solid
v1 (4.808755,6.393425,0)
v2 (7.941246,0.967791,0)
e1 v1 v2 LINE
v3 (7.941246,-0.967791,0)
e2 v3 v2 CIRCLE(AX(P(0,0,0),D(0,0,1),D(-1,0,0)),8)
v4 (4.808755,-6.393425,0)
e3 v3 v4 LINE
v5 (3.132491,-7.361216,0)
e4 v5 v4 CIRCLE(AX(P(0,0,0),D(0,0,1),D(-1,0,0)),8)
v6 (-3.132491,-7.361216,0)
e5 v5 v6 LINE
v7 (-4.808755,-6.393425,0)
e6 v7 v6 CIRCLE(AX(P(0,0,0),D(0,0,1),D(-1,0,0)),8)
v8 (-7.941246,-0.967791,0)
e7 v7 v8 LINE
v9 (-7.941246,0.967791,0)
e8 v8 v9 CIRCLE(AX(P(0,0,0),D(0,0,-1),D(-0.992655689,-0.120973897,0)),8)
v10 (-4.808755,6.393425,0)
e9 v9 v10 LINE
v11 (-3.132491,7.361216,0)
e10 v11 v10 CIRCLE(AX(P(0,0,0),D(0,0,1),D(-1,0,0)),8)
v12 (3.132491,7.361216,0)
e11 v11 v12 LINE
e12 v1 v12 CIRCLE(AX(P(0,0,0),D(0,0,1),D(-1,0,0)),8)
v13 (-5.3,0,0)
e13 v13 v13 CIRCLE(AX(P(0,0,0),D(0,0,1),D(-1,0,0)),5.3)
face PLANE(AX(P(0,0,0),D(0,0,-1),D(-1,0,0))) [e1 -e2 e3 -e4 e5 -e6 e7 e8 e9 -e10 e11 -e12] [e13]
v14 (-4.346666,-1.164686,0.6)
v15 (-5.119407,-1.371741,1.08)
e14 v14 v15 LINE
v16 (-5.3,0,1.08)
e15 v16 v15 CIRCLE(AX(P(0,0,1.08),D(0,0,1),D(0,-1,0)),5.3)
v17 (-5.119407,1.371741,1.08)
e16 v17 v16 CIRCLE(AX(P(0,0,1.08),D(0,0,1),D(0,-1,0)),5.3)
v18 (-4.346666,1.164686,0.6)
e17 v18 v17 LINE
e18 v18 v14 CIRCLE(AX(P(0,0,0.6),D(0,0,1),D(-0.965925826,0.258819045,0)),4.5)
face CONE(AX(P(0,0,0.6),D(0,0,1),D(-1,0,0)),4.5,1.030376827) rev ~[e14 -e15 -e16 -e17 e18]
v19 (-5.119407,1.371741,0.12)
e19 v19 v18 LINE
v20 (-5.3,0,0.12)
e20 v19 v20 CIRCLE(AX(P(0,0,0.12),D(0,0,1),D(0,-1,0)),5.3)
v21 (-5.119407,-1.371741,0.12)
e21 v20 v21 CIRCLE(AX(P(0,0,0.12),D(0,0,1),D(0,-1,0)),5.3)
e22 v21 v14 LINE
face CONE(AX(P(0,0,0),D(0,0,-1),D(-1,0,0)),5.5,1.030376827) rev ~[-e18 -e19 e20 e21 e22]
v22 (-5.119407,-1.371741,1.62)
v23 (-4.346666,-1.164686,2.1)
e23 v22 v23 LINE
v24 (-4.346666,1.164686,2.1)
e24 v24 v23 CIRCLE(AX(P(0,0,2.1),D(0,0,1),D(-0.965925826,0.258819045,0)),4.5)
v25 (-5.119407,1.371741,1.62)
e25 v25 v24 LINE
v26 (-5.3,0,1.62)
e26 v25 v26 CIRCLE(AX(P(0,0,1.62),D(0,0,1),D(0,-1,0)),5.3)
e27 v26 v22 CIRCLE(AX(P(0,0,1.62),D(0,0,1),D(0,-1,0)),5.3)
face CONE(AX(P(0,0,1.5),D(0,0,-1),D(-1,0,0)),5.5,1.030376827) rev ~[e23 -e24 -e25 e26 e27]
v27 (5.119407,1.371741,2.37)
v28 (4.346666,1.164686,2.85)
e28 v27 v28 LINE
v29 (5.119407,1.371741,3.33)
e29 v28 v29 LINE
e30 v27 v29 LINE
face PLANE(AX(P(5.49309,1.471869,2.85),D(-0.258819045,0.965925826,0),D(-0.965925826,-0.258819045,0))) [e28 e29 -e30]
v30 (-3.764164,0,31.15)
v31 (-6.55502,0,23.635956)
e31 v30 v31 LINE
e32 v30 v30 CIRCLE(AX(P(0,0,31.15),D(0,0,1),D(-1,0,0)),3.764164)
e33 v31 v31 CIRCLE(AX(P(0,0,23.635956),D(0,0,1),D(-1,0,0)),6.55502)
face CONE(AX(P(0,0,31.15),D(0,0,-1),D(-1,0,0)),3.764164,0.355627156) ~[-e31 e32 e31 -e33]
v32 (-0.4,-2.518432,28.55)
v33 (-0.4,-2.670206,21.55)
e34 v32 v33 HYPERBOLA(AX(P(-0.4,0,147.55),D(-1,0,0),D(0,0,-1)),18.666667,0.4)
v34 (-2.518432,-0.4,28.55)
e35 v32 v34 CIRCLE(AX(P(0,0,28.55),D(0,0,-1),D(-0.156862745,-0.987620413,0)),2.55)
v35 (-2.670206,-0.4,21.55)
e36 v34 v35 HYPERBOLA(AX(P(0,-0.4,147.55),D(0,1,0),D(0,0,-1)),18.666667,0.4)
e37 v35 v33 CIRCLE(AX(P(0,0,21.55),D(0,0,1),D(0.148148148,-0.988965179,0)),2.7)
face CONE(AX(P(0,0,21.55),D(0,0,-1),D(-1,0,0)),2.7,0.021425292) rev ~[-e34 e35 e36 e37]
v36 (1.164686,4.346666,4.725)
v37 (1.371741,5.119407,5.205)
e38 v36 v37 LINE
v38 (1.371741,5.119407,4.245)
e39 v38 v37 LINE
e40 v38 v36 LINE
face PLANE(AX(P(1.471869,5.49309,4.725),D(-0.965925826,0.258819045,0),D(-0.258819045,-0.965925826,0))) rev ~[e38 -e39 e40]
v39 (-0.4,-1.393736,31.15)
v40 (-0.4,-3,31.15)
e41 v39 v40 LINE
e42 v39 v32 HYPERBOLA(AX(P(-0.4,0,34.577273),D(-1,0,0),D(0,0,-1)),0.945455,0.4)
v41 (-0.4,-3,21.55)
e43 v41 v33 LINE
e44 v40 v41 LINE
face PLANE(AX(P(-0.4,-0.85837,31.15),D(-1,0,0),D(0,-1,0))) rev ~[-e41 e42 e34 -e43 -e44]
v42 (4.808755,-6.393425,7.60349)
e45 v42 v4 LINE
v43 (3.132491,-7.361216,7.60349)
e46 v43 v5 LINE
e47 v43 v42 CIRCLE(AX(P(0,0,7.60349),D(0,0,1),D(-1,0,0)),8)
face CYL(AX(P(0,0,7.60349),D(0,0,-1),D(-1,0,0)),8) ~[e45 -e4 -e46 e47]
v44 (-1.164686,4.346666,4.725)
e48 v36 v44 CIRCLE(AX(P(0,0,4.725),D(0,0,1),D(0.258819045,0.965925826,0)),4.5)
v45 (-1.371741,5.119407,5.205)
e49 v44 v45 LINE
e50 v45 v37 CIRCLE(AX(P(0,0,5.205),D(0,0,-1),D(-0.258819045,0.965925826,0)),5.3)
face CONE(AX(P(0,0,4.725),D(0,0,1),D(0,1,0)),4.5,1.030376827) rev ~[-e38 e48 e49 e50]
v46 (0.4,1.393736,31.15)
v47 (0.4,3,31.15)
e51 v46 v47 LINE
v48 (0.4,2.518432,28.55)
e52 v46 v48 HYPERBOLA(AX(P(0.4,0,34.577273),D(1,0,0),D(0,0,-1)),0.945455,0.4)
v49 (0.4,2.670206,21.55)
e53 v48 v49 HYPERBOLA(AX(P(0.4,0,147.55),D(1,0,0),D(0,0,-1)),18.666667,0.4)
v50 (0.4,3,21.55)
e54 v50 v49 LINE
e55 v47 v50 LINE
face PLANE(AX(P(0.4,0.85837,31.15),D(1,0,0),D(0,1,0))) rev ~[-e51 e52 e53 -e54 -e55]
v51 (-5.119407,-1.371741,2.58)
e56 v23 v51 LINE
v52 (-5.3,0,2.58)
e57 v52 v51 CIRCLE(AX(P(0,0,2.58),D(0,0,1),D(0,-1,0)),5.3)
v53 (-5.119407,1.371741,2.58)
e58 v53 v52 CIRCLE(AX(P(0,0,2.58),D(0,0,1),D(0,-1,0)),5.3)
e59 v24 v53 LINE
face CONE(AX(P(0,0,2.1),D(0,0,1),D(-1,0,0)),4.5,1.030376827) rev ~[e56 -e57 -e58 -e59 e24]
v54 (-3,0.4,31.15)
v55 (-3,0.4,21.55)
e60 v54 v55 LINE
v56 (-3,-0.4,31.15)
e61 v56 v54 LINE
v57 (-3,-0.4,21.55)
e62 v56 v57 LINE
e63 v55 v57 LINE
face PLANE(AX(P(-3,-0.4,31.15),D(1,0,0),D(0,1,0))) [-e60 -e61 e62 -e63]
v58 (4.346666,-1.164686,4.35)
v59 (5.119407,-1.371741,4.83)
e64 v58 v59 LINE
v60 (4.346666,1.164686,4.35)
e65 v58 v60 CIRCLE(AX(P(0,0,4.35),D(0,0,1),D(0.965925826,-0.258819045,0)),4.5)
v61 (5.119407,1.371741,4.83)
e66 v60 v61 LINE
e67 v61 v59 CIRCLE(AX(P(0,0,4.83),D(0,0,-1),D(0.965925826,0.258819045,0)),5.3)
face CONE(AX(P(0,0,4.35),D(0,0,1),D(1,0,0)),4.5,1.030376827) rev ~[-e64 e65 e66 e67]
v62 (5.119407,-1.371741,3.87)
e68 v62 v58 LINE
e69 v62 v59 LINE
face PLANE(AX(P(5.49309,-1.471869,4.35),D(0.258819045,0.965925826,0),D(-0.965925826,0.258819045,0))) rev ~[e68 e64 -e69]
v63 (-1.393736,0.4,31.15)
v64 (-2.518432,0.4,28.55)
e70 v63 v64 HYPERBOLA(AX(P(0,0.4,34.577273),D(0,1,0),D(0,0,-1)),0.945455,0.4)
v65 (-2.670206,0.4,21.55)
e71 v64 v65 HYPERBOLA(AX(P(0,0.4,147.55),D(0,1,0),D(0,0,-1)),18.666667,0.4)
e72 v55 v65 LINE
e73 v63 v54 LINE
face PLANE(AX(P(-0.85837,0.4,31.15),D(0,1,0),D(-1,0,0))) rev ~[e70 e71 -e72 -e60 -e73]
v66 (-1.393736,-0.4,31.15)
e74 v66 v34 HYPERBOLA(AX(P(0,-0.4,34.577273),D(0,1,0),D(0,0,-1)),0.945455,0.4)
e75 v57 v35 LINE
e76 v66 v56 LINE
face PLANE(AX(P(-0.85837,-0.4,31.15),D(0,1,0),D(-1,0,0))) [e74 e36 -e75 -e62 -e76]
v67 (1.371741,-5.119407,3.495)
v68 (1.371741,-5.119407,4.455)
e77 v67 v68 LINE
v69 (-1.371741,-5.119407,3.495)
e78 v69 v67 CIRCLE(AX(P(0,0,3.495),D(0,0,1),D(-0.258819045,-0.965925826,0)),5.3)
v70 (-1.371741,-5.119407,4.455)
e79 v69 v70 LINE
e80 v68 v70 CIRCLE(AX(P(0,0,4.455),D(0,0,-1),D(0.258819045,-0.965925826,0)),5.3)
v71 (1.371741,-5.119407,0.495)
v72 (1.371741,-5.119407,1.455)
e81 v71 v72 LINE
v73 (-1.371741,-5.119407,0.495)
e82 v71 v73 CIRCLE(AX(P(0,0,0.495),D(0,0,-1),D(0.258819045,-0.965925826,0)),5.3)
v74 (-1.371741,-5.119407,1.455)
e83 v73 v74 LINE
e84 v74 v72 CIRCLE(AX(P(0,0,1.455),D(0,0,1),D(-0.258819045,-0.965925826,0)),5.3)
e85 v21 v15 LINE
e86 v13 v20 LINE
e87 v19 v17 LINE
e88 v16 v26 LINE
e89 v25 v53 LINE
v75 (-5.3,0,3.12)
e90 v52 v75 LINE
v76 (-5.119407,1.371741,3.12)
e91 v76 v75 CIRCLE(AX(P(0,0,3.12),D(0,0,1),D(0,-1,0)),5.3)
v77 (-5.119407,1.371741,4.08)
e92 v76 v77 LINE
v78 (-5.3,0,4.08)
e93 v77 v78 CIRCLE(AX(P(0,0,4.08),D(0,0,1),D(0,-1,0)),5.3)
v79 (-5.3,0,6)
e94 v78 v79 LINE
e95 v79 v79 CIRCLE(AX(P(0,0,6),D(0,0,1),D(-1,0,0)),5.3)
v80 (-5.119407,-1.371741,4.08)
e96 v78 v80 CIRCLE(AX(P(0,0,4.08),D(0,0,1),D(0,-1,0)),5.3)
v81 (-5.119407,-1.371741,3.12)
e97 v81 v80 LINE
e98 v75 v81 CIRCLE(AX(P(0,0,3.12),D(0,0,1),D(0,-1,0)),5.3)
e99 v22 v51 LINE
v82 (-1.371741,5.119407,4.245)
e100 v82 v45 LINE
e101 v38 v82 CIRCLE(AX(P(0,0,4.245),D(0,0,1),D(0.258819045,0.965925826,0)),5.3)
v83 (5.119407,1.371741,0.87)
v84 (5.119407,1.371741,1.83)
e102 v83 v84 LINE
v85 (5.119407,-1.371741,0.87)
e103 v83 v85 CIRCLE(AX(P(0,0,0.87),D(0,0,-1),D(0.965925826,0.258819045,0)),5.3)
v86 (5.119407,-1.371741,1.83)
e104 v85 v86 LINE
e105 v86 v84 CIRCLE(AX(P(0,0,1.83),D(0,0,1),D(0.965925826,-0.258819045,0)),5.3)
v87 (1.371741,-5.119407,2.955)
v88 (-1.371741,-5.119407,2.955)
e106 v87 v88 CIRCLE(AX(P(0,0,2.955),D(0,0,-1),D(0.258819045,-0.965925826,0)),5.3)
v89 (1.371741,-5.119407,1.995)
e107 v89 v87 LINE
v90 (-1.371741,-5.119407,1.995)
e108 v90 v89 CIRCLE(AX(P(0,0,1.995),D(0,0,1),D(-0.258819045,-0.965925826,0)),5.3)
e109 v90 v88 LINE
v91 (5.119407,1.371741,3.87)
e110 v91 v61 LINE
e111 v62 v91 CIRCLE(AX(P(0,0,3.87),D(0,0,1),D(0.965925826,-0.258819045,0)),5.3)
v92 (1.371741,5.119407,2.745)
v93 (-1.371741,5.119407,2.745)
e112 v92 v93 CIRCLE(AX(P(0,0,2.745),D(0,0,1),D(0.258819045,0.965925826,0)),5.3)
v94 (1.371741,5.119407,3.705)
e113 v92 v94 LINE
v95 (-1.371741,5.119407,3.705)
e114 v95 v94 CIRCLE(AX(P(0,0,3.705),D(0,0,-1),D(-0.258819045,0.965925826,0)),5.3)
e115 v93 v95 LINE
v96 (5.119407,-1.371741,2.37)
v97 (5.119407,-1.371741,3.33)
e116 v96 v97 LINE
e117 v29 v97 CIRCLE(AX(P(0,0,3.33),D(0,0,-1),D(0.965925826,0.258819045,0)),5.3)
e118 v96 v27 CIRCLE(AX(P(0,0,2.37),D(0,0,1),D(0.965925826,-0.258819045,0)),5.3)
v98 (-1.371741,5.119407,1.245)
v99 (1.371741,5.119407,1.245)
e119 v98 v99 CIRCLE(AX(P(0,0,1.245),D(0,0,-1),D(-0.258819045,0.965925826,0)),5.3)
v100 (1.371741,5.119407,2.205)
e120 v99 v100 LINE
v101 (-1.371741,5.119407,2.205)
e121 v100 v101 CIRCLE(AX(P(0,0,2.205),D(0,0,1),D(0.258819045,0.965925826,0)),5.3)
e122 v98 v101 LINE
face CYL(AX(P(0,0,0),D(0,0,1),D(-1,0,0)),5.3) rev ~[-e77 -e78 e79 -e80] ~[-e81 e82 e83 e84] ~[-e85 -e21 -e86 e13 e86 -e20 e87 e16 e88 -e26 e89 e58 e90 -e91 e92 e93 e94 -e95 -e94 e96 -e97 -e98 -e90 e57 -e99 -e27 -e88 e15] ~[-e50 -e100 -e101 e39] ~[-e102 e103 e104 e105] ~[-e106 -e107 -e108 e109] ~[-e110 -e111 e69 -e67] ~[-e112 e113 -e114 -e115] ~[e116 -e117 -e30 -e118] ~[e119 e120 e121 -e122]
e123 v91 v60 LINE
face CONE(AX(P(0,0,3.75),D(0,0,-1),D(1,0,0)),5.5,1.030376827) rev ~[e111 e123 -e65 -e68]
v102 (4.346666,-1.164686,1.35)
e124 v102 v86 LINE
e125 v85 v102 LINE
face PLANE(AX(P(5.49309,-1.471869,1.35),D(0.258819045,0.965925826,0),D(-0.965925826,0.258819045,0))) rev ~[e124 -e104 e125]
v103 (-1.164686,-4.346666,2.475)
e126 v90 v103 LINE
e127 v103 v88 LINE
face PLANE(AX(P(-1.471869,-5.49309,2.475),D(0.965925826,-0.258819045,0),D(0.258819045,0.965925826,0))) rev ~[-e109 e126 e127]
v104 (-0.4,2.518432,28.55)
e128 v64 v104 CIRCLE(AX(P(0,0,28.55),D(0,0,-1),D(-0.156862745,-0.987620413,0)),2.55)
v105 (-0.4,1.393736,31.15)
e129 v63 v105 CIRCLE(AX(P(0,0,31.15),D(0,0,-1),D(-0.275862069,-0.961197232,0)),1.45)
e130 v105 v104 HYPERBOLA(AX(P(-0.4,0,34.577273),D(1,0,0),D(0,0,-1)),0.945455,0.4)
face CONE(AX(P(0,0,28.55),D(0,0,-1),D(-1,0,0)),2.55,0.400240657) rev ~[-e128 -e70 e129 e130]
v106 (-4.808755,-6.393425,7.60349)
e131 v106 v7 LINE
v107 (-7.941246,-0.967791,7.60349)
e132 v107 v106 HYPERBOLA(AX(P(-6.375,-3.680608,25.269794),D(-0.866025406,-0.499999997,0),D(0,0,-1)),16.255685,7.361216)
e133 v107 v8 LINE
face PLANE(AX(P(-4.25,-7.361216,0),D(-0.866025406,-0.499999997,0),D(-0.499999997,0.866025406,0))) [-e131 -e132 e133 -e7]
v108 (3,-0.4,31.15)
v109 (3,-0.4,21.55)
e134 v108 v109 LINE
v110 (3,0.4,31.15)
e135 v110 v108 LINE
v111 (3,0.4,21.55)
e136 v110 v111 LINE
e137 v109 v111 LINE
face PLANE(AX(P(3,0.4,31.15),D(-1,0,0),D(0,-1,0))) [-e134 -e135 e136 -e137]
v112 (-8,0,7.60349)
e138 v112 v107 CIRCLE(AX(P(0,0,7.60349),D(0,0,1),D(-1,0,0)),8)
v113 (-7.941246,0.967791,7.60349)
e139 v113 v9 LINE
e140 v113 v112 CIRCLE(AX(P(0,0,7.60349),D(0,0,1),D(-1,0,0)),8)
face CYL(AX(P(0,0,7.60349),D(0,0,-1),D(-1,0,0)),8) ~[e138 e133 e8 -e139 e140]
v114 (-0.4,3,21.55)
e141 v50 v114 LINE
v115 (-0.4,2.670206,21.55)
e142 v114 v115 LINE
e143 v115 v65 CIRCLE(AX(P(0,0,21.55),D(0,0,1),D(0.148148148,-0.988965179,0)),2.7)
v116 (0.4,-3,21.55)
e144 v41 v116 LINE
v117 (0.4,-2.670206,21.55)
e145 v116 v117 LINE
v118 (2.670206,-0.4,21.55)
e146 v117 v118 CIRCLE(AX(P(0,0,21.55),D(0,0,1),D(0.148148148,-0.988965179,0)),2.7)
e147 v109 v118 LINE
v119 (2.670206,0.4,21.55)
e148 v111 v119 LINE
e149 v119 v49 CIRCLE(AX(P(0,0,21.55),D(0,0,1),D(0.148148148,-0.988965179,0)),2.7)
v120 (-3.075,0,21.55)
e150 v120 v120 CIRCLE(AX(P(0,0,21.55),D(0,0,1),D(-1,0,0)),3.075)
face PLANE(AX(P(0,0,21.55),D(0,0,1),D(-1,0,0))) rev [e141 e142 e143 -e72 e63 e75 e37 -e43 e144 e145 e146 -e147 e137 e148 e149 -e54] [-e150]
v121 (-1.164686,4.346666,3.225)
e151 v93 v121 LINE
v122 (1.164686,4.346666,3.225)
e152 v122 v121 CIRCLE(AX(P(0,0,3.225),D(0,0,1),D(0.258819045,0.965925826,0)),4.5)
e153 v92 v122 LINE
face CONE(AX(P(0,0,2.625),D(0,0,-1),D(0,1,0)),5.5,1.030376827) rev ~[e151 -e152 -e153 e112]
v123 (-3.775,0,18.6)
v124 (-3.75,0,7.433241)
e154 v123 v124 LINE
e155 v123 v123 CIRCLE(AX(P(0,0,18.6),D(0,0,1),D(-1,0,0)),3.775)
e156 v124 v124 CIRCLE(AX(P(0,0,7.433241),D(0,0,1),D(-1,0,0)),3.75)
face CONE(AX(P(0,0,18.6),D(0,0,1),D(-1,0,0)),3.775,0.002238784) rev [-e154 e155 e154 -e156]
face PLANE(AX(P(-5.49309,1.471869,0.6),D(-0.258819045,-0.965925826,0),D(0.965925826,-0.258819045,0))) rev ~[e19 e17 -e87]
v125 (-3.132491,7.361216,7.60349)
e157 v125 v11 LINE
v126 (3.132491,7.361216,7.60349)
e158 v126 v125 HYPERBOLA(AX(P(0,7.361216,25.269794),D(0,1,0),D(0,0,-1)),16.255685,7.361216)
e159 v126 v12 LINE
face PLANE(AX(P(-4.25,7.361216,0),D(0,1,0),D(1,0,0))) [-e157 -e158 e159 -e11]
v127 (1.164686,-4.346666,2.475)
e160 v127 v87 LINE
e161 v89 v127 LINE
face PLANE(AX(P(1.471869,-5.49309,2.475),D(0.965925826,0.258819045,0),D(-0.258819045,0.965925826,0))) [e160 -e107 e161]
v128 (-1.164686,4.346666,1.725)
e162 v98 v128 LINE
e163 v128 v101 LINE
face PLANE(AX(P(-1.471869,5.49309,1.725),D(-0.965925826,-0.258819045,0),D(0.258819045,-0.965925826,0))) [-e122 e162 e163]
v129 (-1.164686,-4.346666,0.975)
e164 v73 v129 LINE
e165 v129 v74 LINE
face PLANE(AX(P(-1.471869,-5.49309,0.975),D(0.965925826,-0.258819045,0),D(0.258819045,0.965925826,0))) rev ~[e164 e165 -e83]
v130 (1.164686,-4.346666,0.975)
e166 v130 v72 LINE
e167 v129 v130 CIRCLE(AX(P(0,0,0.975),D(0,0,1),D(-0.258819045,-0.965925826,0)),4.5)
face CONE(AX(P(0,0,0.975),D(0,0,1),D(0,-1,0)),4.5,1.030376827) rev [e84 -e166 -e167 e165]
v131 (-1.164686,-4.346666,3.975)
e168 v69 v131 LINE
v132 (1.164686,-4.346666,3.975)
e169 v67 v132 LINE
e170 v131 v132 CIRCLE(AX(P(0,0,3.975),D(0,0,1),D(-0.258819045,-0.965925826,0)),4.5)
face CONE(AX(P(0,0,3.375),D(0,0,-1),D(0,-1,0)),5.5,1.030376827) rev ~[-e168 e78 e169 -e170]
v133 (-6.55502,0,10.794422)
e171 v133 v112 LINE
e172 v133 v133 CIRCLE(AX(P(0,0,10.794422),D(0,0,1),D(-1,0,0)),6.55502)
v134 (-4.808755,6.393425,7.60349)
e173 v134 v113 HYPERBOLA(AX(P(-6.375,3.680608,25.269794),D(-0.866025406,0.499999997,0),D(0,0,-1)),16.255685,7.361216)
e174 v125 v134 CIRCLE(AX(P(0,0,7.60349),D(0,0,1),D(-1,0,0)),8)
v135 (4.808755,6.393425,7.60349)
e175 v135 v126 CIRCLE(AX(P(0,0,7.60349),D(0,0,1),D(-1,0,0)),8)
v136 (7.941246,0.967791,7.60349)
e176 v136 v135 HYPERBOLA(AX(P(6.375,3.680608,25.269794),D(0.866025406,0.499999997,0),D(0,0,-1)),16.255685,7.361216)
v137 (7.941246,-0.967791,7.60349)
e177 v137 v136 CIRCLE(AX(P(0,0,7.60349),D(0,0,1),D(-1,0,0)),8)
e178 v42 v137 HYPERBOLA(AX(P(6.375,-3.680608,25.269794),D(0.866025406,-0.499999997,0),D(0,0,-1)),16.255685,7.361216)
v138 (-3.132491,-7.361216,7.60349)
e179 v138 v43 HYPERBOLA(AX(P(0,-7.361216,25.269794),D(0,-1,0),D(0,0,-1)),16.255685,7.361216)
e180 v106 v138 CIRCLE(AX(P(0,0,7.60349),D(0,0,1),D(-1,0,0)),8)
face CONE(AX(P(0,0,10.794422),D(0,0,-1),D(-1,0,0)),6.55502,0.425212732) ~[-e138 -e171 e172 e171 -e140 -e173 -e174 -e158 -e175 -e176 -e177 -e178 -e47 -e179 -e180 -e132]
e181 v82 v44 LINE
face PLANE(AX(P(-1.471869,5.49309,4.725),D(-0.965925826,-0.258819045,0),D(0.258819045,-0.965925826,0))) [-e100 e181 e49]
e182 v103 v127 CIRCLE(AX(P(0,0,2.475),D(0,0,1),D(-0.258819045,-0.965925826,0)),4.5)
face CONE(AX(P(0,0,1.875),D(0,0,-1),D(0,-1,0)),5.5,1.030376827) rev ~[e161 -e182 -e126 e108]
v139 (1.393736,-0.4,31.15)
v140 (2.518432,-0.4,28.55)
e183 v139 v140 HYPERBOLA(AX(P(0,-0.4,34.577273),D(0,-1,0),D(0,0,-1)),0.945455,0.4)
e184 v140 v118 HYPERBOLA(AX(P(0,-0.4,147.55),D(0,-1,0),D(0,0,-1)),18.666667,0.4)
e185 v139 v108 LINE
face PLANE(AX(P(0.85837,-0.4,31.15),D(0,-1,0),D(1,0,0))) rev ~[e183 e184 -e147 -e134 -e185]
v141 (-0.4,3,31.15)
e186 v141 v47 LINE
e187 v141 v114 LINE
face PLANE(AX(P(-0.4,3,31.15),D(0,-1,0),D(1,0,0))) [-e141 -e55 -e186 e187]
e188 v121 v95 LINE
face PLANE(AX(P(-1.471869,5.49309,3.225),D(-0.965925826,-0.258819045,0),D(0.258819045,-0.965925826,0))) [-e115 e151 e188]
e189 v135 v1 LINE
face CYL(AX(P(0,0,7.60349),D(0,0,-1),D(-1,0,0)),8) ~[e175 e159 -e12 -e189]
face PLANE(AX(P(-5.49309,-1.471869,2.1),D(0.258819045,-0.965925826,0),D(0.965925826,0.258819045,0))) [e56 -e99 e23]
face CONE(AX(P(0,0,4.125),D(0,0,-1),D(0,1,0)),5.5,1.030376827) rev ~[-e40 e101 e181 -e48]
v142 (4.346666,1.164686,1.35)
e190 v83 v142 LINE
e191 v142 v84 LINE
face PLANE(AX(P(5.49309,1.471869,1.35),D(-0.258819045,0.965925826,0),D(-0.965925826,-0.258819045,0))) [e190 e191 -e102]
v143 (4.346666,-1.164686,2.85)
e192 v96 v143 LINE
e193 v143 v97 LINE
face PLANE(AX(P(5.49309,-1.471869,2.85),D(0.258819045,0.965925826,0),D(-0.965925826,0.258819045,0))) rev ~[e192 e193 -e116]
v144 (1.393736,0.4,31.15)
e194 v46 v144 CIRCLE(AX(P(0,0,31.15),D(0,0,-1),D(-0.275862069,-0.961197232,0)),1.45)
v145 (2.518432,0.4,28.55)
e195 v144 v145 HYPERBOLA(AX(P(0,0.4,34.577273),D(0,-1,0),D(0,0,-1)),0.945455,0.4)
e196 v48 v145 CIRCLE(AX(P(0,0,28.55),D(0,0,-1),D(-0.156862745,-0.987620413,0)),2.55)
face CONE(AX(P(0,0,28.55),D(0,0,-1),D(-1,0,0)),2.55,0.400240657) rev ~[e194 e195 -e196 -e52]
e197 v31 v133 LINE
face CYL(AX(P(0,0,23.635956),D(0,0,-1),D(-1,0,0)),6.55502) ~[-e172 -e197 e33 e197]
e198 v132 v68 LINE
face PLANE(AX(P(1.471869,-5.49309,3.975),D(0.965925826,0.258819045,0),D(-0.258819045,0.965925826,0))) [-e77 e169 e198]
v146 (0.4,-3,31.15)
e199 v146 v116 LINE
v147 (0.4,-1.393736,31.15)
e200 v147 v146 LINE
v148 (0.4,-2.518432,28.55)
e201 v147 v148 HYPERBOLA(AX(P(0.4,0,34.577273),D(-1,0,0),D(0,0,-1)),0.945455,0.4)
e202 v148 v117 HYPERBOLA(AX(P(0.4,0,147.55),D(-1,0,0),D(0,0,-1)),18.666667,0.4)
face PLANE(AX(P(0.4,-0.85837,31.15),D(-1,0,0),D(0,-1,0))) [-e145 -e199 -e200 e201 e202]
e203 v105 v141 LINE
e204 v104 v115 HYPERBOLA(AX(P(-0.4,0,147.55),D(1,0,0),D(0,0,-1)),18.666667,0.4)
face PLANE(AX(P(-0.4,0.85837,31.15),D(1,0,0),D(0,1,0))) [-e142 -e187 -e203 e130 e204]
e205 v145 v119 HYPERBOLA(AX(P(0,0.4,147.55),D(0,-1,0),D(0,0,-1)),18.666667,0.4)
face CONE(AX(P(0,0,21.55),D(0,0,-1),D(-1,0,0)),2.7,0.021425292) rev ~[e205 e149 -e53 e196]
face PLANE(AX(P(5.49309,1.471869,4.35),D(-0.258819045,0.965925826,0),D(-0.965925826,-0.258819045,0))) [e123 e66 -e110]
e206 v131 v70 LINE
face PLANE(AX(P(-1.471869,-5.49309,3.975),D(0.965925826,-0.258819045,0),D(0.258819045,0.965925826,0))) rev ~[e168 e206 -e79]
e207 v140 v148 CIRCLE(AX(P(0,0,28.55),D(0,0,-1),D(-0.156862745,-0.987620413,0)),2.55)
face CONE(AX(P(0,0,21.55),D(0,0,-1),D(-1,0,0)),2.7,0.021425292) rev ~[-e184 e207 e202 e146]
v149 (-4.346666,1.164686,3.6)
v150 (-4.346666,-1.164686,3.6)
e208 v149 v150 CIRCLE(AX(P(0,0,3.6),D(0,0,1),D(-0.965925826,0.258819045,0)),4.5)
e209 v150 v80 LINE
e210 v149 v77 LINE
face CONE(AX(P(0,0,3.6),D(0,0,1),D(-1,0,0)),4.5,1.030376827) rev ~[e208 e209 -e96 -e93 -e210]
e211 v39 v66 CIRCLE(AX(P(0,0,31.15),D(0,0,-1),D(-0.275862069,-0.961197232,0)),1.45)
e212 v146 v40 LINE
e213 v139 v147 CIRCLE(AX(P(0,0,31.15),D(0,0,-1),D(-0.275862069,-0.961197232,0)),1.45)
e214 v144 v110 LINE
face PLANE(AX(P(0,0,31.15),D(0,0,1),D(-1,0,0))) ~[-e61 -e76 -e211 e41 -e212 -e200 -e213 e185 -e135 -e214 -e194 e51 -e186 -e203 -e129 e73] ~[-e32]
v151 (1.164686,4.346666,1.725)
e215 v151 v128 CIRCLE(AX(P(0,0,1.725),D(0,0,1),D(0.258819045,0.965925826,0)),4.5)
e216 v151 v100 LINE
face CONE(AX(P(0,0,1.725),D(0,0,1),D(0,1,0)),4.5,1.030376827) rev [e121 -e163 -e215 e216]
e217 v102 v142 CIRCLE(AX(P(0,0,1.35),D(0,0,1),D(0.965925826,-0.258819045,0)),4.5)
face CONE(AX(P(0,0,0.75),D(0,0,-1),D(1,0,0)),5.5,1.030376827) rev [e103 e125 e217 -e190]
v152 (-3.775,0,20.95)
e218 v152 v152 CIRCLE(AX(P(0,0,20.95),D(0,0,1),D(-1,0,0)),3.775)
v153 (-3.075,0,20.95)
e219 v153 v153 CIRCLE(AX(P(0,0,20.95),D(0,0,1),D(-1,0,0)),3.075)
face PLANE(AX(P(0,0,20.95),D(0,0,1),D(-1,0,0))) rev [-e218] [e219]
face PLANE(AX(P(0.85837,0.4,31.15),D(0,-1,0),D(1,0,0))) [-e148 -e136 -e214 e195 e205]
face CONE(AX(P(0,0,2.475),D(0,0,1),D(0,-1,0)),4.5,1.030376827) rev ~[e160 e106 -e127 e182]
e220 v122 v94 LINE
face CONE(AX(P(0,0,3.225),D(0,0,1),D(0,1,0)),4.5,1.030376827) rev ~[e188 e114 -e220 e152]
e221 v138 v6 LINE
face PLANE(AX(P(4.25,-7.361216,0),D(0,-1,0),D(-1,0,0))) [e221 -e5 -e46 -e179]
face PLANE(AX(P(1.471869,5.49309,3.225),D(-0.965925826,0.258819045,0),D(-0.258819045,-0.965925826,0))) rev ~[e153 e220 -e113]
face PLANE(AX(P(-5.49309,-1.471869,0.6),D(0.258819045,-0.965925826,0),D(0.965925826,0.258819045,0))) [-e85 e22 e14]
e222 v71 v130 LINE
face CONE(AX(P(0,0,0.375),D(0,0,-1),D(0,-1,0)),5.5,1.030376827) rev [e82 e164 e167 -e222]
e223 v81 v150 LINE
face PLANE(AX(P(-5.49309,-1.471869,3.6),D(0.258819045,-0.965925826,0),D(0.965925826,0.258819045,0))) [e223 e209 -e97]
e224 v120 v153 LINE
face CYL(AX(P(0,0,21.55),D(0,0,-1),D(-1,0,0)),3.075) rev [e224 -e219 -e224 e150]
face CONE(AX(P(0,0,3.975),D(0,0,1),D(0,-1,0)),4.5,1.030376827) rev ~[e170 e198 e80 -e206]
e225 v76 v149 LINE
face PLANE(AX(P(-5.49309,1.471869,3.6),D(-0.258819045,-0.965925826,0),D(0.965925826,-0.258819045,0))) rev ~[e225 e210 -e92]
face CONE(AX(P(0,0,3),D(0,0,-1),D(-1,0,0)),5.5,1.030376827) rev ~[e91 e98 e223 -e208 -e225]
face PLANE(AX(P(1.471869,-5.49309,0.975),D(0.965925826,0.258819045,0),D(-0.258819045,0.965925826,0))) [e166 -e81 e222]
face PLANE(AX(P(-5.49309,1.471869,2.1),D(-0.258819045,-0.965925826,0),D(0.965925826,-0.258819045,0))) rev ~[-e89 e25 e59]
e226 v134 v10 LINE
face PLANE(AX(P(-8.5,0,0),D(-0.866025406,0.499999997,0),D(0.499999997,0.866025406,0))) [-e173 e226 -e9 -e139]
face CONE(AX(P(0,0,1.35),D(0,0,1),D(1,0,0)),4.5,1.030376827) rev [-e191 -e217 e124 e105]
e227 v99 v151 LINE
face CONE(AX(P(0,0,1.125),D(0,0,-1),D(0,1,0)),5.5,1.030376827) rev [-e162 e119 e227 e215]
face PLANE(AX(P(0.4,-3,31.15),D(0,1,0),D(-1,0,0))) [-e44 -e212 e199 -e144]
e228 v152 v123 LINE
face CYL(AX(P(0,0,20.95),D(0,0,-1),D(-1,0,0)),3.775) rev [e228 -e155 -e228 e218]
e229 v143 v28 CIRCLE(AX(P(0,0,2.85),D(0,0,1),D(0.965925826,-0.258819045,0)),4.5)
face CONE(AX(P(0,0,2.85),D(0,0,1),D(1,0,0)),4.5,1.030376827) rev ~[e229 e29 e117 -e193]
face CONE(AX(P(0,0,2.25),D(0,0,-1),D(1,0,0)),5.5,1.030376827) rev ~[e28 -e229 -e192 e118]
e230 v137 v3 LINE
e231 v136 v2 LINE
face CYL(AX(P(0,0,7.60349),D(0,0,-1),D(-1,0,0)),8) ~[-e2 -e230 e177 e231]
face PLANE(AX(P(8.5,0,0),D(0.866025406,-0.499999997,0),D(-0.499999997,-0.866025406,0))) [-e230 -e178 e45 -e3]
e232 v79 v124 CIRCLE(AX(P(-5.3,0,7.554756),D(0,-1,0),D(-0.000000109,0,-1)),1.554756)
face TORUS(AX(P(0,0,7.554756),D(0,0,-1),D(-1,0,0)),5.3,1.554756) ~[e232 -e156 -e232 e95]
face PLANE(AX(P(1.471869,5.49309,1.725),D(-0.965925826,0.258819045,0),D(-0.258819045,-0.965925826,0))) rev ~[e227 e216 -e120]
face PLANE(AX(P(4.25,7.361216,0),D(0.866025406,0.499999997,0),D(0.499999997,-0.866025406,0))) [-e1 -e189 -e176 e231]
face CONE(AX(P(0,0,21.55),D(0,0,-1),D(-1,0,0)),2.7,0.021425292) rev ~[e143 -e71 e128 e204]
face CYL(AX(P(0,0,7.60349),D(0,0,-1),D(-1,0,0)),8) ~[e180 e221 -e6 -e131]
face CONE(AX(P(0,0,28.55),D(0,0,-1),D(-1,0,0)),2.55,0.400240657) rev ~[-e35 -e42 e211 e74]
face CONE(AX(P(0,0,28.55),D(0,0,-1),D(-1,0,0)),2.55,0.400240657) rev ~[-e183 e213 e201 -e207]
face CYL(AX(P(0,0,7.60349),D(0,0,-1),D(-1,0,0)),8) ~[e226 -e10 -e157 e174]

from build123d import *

# Parameters (mm, degrees)
SKETCH001_R         = 14.291544
POCKET_DEPTH        = 31.151
REVOLUTION001_ANGLE = 30
REVOLUTION002_ANGLE = 30
REVOLUTION003_ANGLE = 30
REVOLUTION004_ANGLE = 30
SKETCH006_W         = 0.8
SKETCH006_H         = 2.14163
POCKET001_DEPTH     = 107.126588
POLARPATTERN_COUNT  = 4


with BuildPart() as part:
    # Sketch → Revolution (revolve)
    with BuildSketch(Plane.XZ):
        with BuildLine():
            Line((-5.3, 0), (-5.3, 6))
            ThreePointArc((-5.3, 6), (-4.244457, 6.413224), (-3.75, 7.433241))
            Line((-3.775, 18.6), (-3.75, 7.433241))
            Line((-3.775, 20.95), (-3.775, 18.6))
            Line((-3.075, 20.95), (-3.775, 20.95))
            Line((-3.075, 21.55), (-3.075, 20.95))
            Line((-2.7, 21.55), (-3.075, 21.55))
            Line((-2.7, 21.55), (-2.55, 28.55))
            Line((-2.55, 28.55), (-1.45, 31.15))
            Line((-1.45, 31.15), (-3.764164, 31.15))
            Line((-3.764164, 31.15), (-6.55502, 23.635956))
            Line((-6.55502, 23.635956), (-6.55502, 10.794422))
            Line((-6.55502, 10.794422), (-8, 7.60349))
            Line((-8, 7.60349), (-8, 0))
            Line((-5.3, 0), (-8, 0))
        make_face()
    revolve(axis=Axis((0, 0, 0), (0, 0, 1)))

    # Sketch001 (on Face8 of Revolution) → Pocket (cut, through all)
    with BuildSketch(Plane(origin=(0, 0, 0), x_dir=(1, 0, 0), z_dir=(0, 0, -1))):
        Circle(SKETCH001_R)
        Polygon((8.5, 0), (4.25, 7.361216), (-4.25, 7.361216), (-8.5, 0), (-4.25, -7.361216), (4.25, -7.361216), align=None, mode=Mode.SUBTRACT)
    extrude(amount=-POCKET_DEPTH, mode=Mode.SUBTRACT)

    # Sketch002 → Revolution001 (revolve, symmetric)
    with BuildSketch(Plane.XZ) as revolution001_sk:
        Polygon((-5.5, 0), (-4.5, 0.6), (-5.5, 1.2), (-6.5, 1.2), (-6.5, 0), align=None)
        Polygon((-5.5, 1.5), (-4.5, 2.1), (-5.5, 2.7), (-6.5, 2.7), (-6.5, 1.5), align=None)
        Polygon((-5.5, 3), (-4.5, 3.6), (-5.5, 4.2), (-6.5, 4.2), (-6.5, 3), align=None)
    revolve(axis=Axis((0, 0, 0), (0, 0, 1)), revolution_arc=REVOLUTION001_ANGLE / 2)
    revolve(revolution001_sk.sketch, axis=Axis((0, 0, 0), (0, 0, -1)), revolution_arc=REVOLUTION001_ANGLE / 2)

    # Sketch003 → Revolution002 (revolve, symmetric)
    with BuildSketch(Plane(origin=(0, 0, 0.375), x_dir=(0, 1, 0), z_dir=(1, 0, 0))) as revolution002_sk:
        Polygon((-5.5, 0), (-4.5, 0.6), (-5.5, 1.2), (-6.5, 1.2), (-6.5, 0), align=None)
        Polygon((-5.5, 1.5), (-4.5, 2.1), (-5.5, 2.7), (-6.5, 2.7), (-6.5, 1.5), align=None)
        Polygon((-5.5, 3), (-4.5, 3.6), (-5.5, 4.2), (-6.5, 4.2), (-6.5, 3), align=None)
    revolve(axis=Axis((0, 0, 0.375), (0, 0, 1)), revolution_arc=REVOLUTION002_ANGLE / 2)
    revolve(revolution002_sk.sketch, axis=Axis((0, 0, 0.375), (0, 0, -1)), revolution_arc=REVOLUTION002_ANGLE / 2)

    # Sketch004 → Revolution003 (revolve, symmetric)
    with BuildSketch(Plane(origin=(0, 0, 0.75), x_dir=(-1, 0, 0), z_dir=(0, 1, 0))) as revolution003_sk:
        Polygon((-5.5, 0), (-4.5, 0.6), (-5.5, 1.2), (-6.5, 1.2), (-6.5, 0), align=None)
        Polygon((-5.5, 1.5), (-4.5, 2.1), (-5.5, 2.7), (-6.5, 2.7), (-6.5, 1.5), align=None)
        Polygon((-5.5, 3), (-4.5, 3.6), (-5.5, 4.2), (-6.5, 4.2), (-6.5, 3), align=None)
    revolve(axis=Axis((0, 0, 0.75), (0, 0, 1)), revolution_arc=REVOLUTION003_ANGLE / 2)
    revolve(revolution003_sk.sketch, axis=Axis((0, 0, 0.75), (0, 0, -1)), revolution_arc=REVOLUTION003_ANGLE / 2)

    # Sketch005 → Revolution004 (revolve, symmetric)
    with BuildSketch(Plane(origin=(0, 0, 1.125), x_dir=(0, -1, 0), z_dir=(-1, 0, 0))) as revolution004_sk:
        Polygon((-5.5, 0), (-4.5, 0.6), (-5.5, 1.2), (-6.5, 1.2), (-6.5, 0), align=None)
        Polygon((-5.5, 1.5), (-4.5, 2.1), (-5.5, 2.7), (-6.5, 2.7), (-6.5, 1.5), align=None)
        Polygon((-5.5, 3), (-4.5, 3.6), (-5.5, 4.2), (-6.5, 4.2), (-6.5, 3), align=None)
    revolve(axis=Axis((0, 0, 1.125), (0, 0, 1)), revolution_arc=REVOLUTION004_ANGLE / 2)
    revolve(revolution004_sk.sketch, axis=Axis((0, 0, 1.125), (0, 0, -1)), revolution_arc=REVOLUTION004_ANGLE / 2)

    # Sketch006 (on Face5 of Revolution004) → Pocket001 (cut, through all)
    with BuildSketch(Plane(origin=(0, 0, 31.15), x_dir=(-1, 0, 0), z_dir=(0, 0, 1))):
        with Locations((0, 1.929185)):
            Rectangle(SKETCH006_W, SKETCH006_H)
    pocket001 = extrude(amount=-POCKET001_DEPTH, mode=Mode.SUBTRACT)

    # PolarPattern: Pocket001 ×4 about axis
    polarpattern_axis = Axis((0, 0, 31.15), (0, 0, 1))
    for i in range(1, POLARPATTERN_COUNT):
        add(pocket001.rotate(polarpattern_axis, i * 360 / POLARPATTERN_COUNT), mode=Mode.SUBTRACT)


solid = part.part
